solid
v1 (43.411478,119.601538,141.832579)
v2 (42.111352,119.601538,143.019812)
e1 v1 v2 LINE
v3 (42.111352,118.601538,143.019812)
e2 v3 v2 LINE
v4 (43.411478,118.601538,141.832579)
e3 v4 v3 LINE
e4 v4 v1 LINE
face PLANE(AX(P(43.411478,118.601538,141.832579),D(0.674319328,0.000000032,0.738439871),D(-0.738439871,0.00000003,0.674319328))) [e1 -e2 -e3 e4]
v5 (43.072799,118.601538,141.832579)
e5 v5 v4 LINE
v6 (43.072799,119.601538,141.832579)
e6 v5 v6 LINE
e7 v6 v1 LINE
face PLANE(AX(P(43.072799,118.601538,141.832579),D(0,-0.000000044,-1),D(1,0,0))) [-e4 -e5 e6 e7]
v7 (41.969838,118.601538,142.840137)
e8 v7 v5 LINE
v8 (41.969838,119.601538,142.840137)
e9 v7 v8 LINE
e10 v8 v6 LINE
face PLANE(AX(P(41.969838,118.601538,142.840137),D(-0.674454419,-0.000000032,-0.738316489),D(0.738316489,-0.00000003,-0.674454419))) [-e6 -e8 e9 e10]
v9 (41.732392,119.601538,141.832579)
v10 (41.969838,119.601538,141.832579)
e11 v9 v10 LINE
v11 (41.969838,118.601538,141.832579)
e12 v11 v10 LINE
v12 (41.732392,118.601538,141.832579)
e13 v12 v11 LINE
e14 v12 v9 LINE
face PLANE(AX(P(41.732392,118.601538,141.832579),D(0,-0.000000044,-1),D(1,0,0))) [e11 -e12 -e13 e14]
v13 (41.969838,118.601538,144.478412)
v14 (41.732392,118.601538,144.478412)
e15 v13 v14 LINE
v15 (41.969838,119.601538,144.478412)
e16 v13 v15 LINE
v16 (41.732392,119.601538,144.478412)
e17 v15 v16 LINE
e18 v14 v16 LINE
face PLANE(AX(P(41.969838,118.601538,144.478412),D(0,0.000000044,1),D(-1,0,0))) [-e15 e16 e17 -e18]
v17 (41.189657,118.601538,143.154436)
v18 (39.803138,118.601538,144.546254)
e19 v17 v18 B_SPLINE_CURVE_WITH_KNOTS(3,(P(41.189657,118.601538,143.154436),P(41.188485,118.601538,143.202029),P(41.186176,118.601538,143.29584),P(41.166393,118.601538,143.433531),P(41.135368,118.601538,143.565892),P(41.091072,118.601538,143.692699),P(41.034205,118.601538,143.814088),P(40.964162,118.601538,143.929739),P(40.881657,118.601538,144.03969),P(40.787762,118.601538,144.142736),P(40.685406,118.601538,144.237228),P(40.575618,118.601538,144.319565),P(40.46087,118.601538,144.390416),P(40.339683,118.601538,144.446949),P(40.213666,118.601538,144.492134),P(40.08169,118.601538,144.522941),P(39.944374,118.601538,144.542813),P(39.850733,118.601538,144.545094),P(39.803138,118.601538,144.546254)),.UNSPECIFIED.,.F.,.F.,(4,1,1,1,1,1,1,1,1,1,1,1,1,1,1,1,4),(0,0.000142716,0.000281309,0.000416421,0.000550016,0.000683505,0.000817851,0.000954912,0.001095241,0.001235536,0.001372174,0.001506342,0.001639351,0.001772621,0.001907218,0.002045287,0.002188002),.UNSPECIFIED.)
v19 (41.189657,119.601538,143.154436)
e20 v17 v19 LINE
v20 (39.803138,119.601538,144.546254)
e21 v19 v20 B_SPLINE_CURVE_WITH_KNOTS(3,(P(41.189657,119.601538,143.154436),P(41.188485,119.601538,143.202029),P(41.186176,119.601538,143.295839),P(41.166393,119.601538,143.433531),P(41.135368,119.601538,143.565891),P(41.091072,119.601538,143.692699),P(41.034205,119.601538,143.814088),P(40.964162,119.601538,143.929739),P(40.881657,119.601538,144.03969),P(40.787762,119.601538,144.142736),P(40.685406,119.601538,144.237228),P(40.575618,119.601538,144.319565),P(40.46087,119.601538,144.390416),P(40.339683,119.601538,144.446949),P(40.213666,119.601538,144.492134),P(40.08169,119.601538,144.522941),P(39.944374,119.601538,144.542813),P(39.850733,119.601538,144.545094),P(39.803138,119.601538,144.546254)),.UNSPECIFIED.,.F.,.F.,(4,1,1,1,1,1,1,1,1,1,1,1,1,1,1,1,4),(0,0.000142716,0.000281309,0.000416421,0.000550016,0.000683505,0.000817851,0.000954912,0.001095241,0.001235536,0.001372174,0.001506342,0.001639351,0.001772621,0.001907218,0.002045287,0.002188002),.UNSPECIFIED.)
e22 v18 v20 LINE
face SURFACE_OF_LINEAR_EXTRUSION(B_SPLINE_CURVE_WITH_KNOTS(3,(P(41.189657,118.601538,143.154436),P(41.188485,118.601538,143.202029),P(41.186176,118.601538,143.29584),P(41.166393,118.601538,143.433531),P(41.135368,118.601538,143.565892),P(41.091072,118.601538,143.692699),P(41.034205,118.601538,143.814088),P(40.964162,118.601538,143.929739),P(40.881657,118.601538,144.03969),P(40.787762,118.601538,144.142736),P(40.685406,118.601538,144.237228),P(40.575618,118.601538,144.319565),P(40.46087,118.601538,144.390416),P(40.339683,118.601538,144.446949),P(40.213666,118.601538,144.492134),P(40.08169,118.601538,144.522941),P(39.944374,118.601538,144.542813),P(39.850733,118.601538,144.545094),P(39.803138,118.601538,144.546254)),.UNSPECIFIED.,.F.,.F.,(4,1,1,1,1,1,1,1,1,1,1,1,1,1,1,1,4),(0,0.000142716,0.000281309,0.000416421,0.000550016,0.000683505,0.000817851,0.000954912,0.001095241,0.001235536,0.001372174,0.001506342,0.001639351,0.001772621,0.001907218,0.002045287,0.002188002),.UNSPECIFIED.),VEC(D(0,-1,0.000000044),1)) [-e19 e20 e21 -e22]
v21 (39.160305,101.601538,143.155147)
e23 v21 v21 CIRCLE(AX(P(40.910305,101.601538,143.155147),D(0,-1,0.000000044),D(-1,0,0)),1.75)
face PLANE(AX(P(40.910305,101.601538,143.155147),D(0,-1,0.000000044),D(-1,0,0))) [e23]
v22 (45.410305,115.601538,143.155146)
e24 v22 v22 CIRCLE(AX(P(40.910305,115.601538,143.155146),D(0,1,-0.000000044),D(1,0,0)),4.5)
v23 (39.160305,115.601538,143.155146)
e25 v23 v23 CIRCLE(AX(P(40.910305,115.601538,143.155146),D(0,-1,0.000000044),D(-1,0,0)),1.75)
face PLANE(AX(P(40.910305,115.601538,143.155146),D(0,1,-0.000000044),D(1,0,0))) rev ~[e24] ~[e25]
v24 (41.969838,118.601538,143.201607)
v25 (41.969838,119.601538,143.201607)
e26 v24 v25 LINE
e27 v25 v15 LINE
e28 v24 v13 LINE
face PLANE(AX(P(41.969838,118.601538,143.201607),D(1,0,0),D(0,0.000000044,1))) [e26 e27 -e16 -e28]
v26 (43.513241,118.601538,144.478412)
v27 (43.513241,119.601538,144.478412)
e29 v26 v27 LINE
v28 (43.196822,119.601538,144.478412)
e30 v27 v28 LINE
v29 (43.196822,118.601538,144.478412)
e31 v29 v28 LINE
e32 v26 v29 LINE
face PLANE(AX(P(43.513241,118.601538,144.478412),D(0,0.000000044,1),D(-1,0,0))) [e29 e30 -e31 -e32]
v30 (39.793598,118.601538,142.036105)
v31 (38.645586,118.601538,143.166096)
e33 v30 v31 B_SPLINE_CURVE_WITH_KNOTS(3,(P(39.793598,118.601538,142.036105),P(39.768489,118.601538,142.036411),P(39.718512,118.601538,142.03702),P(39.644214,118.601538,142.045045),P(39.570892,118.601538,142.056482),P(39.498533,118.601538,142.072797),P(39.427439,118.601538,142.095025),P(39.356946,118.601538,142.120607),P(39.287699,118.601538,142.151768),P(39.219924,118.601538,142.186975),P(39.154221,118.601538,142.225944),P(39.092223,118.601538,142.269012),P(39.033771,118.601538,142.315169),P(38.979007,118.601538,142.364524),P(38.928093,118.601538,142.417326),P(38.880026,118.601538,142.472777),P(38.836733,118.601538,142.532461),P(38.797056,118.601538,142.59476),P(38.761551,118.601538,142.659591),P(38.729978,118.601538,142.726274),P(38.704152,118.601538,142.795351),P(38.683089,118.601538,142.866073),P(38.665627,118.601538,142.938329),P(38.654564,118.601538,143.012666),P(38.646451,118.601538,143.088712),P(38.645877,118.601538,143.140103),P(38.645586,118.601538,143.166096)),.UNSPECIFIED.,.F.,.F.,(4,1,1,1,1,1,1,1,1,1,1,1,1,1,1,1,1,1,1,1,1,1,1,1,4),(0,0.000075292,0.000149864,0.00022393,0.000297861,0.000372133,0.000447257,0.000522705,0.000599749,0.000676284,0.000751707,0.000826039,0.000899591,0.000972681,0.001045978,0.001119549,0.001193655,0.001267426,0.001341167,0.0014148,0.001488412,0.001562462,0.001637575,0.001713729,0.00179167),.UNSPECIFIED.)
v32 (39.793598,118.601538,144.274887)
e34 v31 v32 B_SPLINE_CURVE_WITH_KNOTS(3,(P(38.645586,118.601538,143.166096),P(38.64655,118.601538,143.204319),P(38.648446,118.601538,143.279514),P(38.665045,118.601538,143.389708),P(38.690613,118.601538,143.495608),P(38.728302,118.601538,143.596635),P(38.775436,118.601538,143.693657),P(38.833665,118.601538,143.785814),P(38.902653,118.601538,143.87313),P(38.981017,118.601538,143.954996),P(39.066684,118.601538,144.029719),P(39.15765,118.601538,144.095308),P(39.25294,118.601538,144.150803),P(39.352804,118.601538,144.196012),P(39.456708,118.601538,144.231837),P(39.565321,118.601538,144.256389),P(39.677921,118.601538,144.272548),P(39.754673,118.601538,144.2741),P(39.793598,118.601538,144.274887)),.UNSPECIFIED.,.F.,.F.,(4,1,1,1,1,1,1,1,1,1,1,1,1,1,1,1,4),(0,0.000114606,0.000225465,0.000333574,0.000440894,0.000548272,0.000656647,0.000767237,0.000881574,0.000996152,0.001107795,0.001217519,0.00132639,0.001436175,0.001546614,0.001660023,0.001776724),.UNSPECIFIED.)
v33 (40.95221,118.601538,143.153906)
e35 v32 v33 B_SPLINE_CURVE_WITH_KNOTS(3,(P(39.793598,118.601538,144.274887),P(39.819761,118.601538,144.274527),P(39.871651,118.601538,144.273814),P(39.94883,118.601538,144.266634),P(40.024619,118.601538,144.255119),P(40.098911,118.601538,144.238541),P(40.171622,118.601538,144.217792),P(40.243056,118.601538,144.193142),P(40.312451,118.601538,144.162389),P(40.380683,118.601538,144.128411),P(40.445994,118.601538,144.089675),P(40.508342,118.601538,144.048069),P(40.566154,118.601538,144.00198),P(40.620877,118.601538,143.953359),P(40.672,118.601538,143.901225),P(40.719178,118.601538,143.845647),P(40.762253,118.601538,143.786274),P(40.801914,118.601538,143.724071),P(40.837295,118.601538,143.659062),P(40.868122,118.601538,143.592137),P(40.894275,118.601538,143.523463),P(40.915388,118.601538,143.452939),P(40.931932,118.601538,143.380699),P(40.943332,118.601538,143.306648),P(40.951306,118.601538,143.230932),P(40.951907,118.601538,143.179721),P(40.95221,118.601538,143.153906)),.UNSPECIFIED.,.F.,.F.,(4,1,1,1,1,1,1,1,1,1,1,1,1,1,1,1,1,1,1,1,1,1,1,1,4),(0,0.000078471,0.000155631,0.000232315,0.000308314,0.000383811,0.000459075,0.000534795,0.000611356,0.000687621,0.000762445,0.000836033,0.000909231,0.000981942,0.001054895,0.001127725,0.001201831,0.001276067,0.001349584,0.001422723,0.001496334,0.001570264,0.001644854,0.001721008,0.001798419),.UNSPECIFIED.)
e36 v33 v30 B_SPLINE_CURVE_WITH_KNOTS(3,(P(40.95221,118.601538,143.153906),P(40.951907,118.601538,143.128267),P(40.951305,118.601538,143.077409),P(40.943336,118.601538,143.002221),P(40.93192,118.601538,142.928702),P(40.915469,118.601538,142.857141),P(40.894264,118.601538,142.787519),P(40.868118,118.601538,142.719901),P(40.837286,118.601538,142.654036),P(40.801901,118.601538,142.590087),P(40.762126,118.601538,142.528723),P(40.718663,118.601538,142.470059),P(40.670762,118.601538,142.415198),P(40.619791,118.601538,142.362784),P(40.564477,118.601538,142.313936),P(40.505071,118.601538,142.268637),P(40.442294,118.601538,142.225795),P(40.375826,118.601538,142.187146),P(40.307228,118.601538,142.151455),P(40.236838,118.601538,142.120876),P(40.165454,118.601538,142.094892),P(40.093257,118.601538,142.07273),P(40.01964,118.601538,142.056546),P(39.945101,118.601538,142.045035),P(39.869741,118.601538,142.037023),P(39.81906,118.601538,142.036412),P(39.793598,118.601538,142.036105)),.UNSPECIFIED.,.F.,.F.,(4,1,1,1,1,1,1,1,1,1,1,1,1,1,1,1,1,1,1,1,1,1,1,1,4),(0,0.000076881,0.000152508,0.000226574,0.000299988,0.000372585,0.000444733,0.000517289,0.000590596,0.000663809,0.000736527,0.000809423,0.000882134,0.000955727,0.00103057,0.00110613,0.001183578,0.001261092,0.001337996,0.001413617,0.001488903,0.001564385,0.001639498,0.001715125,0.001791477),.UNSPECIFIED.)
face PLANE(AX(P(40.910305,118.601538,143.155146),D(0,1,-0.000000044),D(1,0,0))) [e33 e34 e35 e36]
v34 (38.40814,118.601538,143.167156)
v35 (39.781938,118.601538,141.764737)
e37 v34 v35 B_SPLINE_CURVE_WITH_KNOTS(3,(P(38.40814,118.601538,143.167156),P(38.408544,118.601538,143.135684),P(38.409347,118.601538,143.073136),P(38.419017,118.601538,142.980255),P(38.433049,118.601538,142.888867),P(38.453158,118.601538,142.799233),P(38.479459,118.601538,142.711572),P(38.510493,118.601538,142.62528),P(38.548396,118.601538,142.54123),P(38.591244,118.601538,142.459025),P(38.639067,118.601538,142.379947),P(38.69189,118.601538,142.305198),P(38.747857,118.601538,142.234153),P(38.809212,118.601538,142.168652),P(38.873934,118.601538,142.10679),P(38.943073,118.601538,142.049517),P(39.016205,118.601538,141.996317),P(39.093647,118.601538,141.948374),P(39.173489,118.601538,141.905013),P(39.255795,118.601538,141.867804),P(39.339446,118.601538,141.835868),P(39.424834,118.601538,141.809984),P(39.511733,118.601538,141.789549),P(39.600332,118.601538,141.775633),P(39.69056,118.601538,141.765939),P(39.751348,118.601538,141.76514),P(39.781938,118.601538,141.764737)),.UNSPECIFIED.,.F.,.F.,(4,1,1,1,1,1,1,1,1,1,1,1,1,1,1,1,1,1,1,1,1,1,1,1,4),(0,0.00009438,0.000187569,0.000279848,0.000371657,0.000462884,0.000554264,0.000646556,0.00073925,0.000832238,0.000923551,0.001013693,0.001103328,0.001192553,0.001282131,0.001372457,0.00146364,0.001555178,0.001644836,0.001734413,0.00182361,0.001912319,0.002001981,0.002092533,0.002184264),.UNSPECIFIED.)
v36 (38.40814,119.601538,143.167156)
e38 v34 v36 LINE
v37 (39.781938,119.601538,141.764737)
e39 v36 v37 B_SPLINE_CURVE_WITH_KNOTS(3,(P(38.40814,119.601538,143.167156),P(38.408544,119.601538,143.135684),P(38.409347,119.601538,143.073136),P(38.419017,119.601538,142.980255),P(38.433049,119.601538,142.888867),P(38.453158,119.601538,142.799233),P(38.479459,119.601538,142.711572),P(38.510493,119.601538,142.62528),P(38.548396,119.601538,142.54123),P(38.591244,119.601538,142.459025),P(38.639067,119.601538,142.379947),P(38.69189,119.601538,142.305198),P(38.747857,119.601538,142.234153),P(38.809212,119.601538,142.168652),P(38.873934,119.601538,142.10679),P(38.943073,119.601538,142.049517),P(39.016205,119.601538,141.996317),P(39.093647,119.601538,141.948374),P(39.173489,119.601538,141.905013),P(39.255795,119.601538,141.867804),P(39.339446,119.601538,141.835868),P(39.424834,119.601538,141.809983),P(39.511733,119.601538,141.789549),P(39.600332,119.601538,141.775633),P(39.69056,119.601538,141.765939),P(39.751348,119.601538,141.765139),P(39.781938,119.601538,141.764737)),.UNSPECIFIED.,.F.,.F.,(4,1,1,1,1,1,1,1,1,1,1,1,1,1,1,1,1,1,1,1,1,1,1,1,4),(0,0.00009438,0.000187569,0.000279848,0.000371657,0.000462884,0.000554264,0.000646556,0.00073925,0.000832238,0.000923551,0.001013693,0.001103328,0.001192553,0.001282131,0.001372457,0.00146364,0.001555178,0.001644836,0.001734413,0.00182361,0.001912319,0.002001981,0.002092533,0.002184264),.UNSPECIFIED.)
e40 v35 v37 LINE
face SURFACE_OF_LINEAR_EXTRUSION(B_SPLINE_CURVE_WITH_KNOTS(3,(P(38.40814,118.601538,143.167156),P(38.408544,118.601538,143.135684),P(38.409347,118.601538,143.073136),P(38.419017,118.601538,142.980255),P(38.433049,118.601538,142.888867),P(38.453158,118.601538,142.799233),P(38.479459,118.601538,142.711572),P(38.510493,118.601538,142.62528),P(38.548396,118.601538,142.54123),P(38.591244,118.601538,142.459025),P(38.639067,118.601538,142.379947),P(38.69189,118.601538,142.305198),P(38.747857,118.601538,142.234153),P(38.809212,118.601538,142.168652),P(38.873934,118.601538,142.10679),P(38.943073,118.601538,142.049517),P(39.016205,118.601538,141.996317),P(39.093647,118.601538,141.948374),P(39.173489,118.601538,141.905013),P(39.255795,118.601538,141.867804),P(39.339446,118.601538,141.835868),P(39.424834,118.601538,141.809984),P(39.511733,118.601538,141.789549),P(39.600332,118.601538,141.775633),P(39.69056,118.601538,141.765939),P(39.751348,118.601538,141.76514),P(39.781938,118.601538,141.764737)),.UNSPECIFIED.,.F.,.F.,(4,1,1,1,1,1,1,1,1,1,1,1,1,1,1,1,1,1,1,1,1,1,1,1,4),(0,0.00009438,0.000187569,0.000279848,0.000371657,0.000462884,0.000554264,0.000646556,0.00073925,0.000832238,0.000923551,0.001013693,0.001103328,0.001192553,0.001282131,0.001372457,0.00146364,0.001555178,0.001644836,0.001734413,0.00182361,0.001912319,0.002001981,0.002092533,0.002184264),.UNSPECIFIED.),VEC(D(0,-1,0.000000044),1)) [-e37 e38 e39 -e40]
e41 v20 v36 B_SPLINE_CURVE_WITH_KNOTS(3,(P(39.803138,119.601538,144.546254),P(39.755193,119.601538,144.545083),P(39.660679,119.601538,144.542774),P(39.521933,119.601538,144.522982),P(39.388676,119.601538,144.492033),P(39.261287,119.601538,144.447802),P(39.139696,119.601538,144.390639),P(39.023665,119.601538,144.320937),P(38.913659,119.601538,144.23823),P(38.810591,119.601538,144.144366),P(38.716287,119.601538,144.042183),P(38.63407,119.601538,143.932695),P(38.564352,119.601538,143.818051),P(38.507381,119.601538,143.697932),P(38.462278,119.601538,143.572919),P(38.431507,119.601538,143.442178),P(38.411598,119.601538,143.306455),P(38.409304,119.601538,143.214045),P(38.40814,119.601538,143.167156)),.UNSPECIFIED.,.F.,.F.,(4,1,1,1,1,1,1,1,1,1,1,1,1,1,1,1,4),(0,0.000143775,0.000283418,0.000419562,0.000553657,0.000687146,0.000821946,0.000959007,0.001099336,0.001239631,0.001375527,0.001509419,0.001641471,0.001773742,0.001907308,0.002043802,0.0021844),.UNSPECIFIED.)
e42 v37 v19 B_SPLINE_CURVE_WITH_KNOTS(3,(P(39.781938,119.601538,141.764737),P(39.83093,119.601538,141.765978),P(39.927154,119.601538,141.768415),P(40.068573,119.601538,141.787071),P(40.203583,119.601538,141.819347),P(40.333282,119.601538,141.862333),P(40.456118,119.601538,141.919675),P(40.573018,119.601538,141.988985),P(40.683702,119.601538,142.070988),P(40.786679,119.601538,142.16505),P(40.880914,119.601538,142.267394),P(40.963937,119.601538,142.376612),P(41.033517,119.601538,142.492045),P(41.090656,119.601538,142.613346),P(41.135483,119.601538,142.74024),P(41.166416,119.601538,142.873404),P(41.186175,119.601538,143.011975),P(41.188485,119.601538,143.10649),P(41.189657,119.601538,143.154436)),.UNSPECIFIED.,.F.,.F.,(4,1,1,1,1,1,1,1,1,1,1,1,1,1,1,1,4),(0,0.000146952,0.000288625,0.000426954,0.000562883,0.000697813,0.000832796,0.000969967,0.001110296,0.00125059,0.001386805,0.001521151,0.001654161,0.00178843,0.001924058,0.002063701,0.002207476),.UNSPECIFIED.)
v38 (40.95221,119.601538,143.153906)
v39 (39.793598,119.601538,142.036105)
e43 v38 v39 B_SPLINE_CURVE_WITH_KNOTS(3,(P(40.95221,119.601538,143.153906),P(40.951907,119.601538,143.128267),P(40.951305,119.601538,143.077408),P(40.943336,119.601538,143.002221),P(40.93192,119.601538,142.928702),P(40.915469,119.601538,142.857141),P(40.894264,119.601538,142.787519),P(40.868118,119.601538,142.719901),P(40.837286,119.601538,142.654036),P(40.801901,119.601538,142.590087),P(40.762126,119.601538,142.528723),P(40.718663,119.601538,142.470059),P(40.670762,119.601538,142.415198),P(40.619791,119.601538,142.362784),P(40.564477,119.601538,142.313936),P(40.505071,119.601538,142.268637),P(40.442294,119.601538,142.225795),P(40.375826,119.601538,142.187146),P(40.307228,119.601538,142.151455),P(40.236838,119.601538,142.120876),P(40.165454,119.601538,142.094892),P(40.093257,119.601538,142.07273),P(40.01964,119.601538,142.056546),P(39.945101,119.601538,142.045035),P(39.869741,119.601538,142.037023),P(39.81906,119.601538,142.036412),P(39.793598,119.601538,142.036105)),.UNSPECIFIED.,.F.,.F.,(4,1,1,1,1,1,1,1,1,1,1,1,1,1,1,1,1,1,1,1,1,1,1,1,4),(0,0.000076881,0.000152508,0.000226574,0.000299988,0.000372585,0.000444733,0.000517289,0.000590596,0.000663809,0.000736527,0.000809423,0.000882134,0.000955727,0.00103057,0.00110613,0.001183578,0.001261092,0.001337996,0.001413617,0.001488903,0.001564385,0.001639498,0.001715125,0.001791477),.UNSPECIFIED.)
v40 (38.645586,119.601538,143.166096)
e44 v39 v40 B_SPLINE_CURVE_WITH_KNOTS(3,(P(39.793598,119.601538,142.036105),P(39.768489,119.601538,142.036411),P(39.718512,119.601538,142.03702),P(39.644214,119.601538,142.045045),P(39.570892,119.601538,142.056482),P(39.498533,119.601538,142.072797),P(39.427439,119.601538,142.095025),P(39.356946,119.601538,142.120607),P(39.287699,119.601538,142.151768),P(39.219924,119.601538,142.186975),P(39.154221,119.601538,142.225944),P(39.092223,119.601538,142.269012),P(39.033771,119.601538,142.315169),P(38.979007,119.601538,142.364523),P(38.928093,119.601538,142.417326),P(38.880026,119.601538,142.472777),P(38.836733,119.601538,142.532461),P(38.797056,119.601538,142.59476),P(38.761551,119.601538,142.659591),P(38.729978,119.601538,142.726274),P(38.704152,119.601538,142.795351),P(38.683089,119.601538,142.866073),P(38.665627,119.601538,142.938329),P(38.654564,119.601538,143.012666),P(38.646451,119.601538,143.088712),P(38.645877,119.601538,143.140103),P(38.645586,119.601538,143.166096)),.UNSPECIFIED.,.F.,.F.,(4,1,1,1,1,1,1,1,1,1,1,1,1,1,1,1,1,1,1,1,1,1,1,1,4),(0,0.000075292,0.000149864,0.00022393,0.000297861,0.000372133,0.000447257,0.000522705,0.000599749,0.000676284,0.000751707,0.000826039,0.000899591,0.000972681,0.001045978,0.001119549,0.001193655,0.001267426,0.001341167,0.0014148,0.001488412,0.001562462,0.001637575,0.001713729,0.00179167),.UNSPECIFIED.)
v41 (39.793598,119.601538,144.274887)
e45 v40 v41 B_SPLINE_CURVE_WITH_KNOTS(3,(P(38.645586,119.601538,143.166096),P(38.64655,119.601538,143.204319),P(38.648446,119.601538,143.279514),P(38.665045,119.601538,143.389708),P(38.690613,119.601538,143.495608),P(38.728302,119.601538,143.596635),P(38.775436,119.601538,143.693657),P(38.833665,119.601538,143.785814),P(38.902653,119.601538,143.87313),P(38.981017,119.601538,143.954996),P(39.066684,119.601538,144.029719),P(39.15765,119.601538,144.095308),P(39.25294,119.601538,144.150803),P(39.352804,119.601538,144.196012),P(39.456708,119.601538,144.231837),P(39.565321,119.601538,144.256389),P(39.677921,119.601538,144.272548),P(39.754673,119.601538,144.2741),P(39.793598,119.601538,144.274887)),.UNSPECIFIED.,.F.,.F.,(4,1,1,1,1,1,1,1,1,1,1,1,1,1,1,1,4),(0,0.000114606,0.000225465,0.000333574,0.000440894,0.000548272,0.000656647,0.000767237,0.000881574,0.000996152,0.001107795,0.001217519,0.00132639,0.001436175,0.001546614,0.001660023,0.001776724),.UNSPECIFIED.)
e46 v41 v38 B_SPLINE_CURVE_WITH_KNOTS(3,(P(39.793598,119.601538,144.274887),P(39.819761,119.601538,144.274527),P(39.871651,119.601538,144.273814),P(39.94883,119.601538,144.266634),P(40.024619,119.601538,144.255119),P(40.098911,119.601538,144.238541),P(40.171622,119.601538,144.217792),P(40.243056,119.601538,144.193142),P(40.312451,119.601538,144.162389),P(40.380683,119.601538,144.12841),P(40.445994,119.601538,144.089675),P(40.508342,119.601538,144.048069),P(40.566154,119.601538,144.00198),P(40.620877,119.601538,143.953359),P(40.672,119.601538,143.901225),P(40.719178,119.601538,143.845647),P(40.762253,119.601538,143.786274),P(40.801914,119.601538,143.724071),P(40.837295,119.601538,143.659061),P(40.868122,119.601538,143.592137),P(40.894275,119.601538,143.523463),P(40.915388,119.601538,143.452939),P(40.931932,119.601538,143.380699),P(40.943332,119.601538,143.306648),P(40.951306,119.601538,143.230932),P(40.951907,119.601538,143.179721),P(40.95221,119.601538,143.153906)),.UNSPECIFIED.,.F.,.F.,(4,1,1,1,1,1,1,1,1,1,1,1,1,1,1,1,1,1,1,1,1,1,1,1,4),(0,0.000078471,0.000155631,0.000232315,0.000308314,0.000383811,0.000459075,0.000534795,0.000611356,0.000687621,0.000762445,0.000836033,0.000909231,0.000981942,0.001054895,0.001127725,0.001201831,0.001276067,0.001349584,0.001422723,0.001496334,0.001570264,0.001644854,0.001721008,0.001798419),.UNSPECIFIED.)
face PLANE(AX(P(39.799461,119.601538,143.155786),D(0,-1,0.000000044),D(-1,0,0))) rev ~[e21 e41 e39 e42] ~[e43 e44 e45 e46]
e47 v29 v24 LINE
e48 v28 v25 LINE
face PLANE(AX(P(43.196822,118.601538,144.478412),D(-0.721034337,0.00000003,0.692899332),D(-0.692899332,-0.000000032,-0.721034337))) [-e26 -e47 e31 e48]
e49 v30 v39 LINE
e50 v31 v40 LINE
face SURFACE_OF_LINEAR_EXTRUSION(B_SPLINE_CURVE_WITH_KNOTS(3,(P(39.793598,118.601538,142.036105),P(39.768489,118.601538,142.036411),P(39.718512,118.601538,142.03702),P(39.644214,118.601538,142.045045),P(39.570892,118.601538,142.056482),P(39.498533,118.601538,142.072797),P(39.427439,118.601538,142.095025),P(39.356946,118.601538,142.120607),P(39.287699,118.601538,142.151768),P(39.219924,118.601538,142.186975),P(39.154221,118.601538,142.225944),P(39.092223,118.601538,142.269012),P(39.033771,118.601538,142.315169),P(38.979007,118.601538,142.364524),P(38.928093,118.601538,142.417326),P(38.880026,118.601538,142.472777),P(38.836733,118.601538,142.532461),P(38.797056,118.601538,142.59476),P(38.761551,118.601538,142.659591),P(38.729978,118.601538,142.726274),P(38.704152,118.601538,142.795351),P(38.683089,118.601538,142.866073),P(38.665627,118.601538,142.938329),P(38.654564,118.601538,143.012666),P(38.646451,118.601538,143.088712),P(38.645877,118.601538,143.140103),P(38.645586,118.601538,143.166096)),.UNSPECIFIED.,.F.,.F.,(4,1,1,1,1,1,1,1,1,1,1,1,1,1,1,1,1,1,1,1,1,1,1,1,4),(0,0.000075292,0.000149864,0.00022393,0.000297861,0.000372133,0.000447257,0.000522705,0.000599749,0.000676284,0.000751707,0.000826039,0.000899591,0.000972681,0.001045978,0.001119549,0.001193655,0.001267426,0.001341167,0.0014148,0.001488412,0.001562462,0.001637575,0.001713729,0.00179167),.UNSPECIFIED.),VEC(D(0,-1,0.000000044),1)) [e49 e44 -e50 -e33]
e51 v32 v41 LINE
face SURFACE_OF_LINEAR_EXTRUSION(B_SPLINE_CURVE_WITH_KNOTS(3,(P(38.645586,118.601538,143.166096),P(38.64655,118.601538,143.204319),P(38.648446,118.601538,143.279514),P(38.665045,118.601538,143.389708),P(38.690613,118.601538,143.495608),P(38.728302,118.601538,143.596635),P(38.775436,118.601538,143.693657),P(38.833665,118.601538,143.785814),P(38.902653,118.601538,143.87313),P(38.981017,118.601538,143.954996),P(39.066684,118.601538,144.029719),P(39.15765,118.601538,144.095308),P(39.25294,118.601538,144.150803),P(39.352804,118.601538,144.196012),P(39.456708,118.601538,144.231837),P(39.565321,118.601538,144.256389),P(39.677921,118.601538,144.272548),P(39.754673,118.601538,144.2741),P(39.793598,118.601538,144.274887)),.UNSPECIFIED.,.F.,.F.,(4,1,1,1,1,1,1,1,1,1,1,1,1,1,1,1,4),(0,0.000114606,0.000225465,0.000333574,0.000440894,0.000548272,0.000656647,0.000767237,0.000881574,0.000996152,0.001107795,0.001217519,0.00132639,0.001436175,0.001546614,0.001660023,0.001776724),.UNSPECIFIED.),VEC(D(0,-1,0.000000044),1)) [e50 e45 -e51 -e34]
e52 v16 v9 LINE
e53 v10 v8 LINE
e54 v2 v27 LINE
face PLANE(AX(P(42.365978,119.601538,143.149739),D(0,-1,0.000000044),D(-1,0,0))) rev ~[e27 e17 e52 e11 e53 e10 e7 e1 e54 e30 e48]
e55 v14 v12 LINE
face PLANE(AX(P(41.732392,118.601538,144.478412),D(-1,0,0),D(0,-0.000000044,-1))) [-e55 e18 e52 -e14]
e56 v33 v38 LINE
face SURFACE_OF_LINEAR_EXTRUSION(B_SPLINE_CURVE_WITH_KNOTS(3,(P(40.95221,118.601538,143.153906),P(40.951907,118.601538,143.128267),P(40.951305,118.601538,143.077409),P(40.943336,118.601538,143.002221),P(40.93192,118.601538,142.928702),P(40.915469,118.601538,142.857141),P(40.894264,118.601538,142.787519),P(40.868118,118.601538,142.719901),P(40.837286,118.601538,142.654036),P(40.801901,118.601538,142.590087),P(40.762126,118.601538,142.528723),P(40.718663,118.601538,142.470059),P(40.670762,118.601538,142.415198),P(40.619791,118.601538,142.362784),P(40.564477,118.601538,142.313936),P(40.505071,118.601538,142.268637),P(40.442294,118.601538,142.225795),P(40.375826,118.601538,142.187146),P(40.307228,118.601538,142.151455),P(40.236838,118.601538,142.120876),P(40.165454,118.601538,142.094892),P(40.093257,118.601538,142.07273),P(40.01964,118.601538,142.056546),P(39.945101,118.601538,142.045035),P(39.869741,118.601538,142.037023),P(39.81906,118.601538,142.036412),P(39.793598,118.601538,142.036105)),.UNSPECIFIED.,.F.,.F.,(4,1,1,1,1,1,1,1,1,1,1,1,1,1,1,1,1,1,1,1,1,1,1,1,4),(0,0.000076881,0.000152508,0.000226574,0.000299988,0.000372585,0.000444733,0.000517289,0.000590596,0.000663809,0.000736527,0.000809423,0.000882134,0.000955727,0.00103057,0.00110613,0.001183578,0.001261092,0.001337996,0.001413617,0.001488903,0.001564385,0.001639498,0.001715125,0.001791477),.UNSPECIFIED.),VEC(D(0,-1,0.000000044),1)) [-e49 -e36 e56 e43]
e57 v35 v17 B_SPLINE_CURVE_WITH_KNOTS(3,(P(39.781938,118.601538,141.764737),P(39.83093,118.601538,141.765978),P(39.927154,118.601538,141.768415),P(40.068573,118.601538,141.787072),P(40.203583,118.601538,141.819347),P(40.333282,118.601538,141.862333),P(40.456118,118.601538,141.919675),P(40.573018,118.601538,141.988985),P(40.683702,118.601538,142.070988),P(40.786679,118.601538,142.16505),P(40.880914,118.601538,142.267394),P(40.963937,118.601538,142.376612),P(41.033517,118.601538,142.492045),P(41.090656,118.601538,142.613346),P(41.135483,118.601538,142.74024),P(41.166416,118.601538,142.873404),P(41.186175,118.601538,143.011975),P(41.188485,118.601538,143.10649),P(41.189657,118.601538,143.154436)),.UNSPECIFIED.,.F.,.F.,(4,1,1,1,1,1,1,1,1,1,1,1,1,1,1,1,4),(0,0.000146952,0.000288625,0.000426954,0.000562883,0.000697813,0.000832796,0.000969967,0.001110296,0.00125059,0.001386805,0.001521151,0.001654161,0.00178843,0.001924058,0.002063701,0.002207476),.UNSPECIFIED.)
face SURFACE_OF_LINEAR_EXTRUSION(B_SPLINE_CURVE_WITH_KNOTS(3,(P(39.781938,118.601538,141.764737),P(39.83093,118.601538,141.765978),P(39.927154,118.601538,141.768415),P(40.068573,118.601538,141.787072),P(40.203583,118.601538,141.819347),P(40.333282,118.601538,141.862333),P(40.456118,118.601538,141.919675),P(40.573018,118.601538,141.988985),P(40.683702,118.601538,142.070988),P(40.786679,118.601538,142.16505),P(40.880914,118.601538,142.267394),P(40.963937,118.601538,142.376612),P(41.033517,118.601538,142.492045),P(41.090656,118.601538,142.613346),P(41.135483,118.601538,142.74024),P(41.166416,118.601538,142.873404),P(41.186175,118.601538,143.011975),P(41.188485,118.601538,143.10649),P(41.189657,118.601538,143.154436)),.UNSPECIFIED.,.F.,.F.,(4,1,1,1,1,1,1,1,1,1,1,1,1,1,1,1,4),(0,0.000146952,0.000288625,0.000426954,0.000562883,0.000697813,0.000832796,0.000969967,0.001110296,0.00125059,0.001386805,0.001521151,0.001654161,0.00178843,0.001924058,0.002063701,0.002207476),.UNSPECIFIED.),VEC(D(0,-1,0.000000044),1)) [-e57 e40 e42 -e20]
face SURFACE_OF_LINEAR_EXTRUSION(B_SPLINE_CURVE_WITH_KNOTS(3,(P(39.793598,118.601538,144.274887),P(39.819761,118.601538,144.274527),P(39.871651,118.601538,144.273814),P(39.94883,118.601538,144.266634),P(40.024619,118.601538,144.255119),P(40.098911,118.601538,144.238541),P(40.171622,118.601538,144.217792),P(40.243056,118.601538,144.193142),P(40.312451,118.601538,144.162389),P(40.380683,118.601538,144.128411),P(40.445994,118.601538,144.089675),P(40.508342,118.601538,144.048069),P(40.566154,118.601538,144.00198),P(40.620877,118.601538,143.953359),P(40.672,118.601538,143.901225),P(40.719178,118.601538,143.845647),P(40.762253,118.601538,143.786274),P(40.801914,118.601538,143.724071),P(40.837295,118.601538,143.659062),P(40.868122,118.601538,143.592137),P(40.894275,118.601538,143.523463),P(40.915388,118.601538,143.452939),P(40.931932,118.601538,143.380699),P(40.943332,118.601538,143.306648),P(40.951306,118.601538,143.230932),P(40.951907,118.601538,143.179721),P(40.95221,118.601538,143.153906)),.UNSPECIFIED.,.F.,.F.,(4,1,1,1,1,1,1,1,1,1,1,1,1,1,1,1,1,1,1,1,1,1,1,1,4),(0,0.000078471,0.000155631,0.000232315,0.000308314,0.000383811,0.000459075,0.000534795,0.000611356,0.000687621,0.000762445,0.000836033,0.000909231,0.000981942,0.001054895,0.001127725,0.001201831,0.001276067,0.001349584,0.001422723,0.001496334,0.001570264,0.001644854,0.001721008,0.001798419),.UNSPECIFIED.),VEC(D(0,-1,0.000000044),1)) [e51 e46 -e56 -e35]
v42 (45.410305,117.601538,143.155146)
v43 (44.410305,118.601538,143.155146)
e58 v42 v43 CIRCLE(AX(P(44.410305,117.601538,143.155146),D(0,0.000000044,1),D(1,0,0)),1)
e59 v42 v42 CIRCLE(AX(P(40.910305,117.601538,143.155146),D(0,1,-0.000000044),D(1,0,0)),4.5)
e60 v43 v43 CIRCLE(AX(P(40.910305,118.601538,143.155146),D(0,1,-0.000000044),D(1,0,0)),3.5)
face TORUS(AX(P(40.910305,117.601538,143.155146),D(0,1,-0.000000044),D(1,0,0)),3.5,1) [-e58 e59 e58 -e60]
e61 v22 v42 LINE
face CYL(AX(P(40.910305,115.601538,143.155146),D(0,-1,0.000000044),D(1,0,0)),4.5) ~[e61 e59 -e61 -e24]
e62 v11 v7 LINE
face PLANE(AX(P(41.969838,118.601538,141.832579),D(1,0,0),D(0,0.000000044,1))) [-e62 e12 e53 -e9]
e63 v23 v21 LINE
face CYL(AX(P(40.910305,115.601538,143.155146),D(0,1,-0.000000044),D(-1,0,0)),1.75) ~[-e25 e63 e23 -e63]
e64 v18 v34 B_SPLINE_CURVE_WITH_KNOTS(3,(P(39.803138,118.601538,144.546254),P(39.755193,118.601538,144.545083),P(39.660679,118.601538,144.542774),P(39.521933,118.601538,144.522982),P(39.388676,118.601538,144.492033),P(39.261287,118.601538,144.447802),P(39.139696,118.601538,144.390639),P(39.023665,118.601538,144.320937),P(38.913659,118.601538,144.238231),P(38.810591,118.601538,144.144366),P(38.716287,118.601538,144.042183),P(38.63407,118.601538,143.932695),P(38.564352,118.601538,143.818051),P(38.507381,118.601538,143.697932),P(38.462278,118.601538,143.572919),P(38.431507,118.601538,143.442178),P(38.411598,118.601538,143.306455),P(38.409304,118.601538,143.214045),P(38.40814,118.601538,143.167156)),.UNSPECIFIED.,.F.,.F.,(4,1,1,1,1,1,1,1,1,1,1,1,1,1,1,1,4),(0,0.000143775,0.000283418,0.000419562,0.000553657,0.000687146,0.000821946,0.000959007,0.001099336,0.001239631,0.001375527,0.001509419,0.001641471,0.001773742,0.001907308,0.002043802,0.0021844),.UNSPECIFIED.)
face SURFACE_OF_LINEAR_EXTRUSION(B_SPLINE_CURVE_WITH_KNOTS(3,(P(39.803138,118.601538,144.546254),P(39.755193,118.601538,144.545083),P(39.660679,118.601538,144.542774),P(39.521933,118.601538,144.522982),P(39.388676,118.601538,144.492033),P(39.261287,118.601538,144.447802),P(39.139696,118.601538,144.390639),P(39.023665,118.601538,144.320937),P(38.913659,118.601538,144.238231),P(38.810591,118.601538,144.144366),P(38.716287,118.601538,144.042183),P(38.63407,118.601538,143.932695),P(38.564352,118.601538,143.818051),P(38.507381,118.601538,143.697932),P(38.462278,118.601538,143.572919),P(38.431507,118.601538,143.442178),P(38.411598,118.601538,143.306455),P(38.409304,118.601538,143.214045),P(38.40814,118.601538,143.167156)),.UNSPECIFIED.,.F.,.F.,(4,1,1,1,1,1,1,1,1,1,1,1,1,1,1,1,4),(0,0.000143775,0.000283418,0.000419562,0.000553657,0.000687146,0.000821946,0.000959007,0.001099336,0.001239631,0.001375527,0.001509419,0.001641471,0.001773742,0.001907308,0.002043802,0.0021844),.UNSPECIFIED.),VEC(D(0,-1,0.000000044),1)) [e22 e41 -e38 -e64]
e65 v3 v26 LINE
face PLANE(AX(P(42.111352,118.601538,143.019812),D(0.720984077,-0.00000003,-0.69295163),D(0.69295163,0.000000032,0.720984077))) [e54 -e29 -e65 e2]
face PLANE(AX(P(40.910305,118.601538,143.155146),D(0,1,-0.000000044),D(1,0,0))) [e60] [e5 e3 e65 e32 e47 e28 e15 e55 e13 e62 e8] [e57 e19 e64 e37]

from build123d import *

# Parameters (mm, degrees)
SKETCH1_R           = 4.5
BOSS_EXTRUDE1_DEPTH = 3
FILLET1_R           = 1
SKETCH6_R           = 1.75
BOSS_EXTRUDE3_DEPTH = 14
BOSS_EXTRUDE4_DEPTH = 1


with BuildPart() as part:
    # Sketch1 → Boss-Extrude1 (new body)
    with BuildSketch(Plane(origin=(0, 115.601531763, -5.053e-06), x_dir=(1, 0, 0), z_dir=(0, 1, -4.4e-08))):
        with Locations((40.91030477, -143.155151275)):
            Circle(SKETCH1_R)
    extrude(amount=BOSS_EXTRUDE1_DEPTH)

    # Fillet1
    fillet1_edges = [part.edges().sort_by_distance(p)[0] for p in [
        (36.41030477, 118.601538021, 143.155146091),
    ]]
    fillet(fillet1_edges, radius=FILLET1_R)

    # Sketch6 → Boss-Extrude3 (add)
    with BuildSketch(Plane(origin=(0, 115.601531763, -5.053e-06), x_dir=(-1, 0, 0), z_dir=(0, -1, 4.4e-08))):
        with Locations((-40.91030477, -143.155151275)):
            Circle(SKETCH6_R)
    extrude(amount=BOSS_EXTRUDE3_DEPTH)

    # Sketch7 → Boss-Extrude4 (add)
    with BuildSketch(Plane(origin=(0, 118.601531763, -5.184e-06), x_dir=(1, 0, 0), z_dir=(0, 1, -4.4e-08))):
        with BuildLine():
            add(Edge.make_bspline(
                [(39.781937709, -141.764742389), (39.830929551, -141.76598327), (39.927153571, -141.768420461), (40.068573285, -141.787076688), (40.203582672, -141.81935237), (40.333281527, -141.862338077), (40.45611848, -141.91968038), (40.573018119, -141.988989986), (40.683702303, -142.070993023), (40.786679181, -142.165055594), (40.880913899, -142.267399038), (40.96393704, -142.376617458), (41.033516631, -142.492050481), (41.090655886, -142.613351228), (41.135482812, -142.740245371), (41.16641566, -142.873409408), (41.186174857, -143.011980537), (41.188484879, -143.106494893), (41.189656726, -143.154440907)],
                knots=[0, 0, 0, 0, 0.000146952, 0.000288625, 0.000426954, 0.000562883, 0.000697813, 0.000832796, 0.000969967, 0.001110296, 0.00125059, 0.001386805, 0.001521151, 0.001654161, 0.00178843, 0.001924058, 0.002063701, 0.002207476, 0.002207476, 0.002207476, 0.002207476], degree=3))
            add(Edge.make_bspline(
                [(41.189656726, -143.154440907), (41.188485051, -143.202033739), (41.186175543, -143.295844723), (41.166393194, -143.433536493), (41.135368152, -143.565896722), (41.091072165, -143.692704448), (41.034205286, -143.814093439), (40.964162388, -143.929744292), (40.88165683, -144.039694918), (40.787762365, -144.142740802), (40.685405625, -144.237232938), (40.575618459, -144.319570421), (40.460869938, -144.390421396), (40.339683432, -144.446954293), (40.213666142, -144.492139018), (40.08169022, -144.522946066), (39.944374075, -144.542817819), (39.850733494, -144.545099673), (39.803138297, -144.546259483)],
                knots=[0, 0, 0, 0, 0.000142716, 0.000281309, 0.000416421, 0.000550016, 0.000683505, 0.000817851, 0.000954912, 0.001095241, 0.001235536, 0.001372174, 0.001506342, 0.001639351, 0.001772621, 0.001907218, 0.002045287, 0.002188002, 0.002188002, 0.002188002, 0.002188002], degree=3))
            add(Edge.make_bspline(
                [(39.803138297, -144.546259483), (39.755192532, -144.545088221), (39.660678666, -144.54277935), (39.521933407, -144.522987455), (39.388675827, -144.492037779), (39.261287002, -144.447807431), (39.139695894, -144.390644406), (39.023664701, -144.320942286), (38.913659155, -144.238235697), (38.810591287, -144.144371679), (38.716286834, -144.042188423), (38.634069925, -143.932700623), (38.564352131, -143.818056319), (38.50738104, -143.697937357), (38.46227755, -143.572924422), (38.431506646, -143.442183608), (38.41159792, -143.306460291), (38.409303721, -143.214050481), (38.408139632, -143.16716126)],
                knots=[0, 0, 0, 0, 0.000143775, 0.000283418, 0.000419562, 0.000553657, 0.000687146, 0.000821946, 0.000959007, 0.001099336, 0.001239631, 0.001375527, 0.001509419, 0.001641471, 0.001773742, 0.001907308, 0.002043802, 0.0021844, 0.0021844, 0.0021844, 0.0021844], degree=3))
            add(Edge.make_bspline(
                [(38.408139632, -143.16716126), (38.408543791, -143.135688944), (38.40934701, -143.073141351), (38.419016921, -142.980260052), (38.433048683, -142.888872471), (38.453158462, -142.799238481), (38.479459306, -142.711577499), (38.510492683, -142.625284958), (38.548396019, -142.541235357), (38.59124389, -142.459030531), (38.639066804, -142.379951936), (38.691889543, -142.305203679), (38.747856756, -142.234158521), (38.809212417, -142.168657512), (38.873934373, -142.106795165), (38.943072551, -142.049522158), (39.016205081, -141.996322047), (39.093646642, -141.948379289), (39.173489029, -141.905018514), (39.255794688, -141.867809139), (39.339445787, -141.835873128), (39.424834122, -141.809988695), (39.511732943, -141.789553763), (39.600331912, -141.77563868), (39.690560442, -141.765944106), (39.75134757, -141.765144685), (39.781937709, -141.764742389)],
                knots=[0, 0, 0, 0, 9.438e-05, 0.000187569, 0.000279848, 0.000371657, 0.000462884, 0.000554264, 0.000646556, 0.00073925, 0.000832238, 0.000923551, 0.001013693, 0.001103328, 0.001192553, 0.001282131, 0.001372457, 0.00146364, 0.001555178, 0.001644836, 0.001734413, 0.00182361, 0.001912319, 0.002001981, 0.002092533, 0.002184264, 0.002184264, 0.002184264, 0.002184264], degree=3))
        make_face()
        with BuildLine():
            add(Edge.make_bspline(
                [(39.793598032, -142.036109911), (39.768489351, -142.036415989), (39.718512029, -142.037025218), (39.6442136, -142.045050193), (39.570892316, -142.056487669), (39.498533037, -142.072802271), (39.42743852, -142.095030335), (39.356946081, -142.12061245), (39.287698534, -142.151773631), (39.219924487, -142.186980378), (39.154220829, -142.225948908), (39.092223132, -142.269016851), (39.033770895, -142.31517421), (38.979007235, -142.364528706), (38.928092956, -142.417331679), (38.88002595, -142.472782628), (38.836732873, -142.532466498), (38.797056276, -142.594764841), (38.761550826, -142.659596512), (38.729978206, -142.726278968), (38.704151843, -142.795356148), (38.683089213, -142.866078636), (38.665626856, -142.938334424), (38.654564306, -143.012671643), (38.646451153, -143.088716757), (38.645876746, -143.140107802), (38.645586213, -143.16610123)],
                knots=[0, 0, 0, 0, 7.5292e-05, 0.000149864, 0.00022393, 0.000297861, 0.000372133, 0.000447257, 0.000522705, 0.000599749, 0.000676284, 0.000751707, 0.000826039, 0.000899591, 0.000972681, 0.001045978, 0.001119549, 0.001193655, 0.001267426, 0.001341167, 0.0014148, 0.001488412, 0.001562462, 0.001637575, 0.001713729, 0.00179167, 0.00179167, 0.00179167, 0.00179167], degree=3))
            add(Edge.make_bspline(
                [(38.645586213, -143.16610123), (38.646549948, -143.204323861), (38.648445913, -143.279519602), (38.66504479, -143.389713377), (38.690612592, -143.495613451), (38.728302387, -143.59664037), (38.775436483, -143.693662536), (38.833665144, -143.785819258), (38.902652667, -143.873135443), (38.981017357, -143.95500151), (39.066683927, -144.029724231), (39.15764974, -144.095313236), (39.252940265, -144.150807889), (39.352803996, -144.196017676), (39.45670779, -144.231842061), (39.565321177, -144.25639436), (39.677920631, -144.272553186), (39.754672972, -144.274104972), (39.793598032, -144.274891962)],
                knots=[0, 0, 0, 0, 0.000114606, 0.000225465, 0.000333574, 0.000440894, 0.000548272, 0.000656647, 0.000767237, 0.000881574, 0.000996152, 0.001107795, 0.001217519, 0.00132639, 0.001436175, 0.001546614, 0.001660023, 0.001776724, 0.001776724, 0.001776724, 0.001776724], degree=3))
            add(Edge.make_bspline(
                [(39.793598032, -144.274891962), (39.819761167, -144.274532503), (39.871650522, -144.273819589), (39.948829875, -144.266639042), (40.024618797, -144.255124474), (40.098910985, -144.238545942), (40.171622122, -144.217797161), (40.243055694, -144.193147272), (40.31245083, -144.162394219), (40.380682969, -144.128415708), (40.445994414, -144.089680589), (40.508341989, -144.048074369), (40.566154188, -144.001984995), (40.620876879, -143.953363791), (40.672000191, -143.901230406), (40.719178411, -143.845652619), (40.762252678, -143.786279622), (40.801914208, -143.724075774), (40.837295246, -143.659066702), (40.868122303, -143.592142481), (40.89427532, -143.523467905), (40.915387939, -143.452943919), (40.931932306, -143.380704468), (40.943332007, -143.306652825), (40.951306125, -143.230937132), (40.951907165, -143.179726003), (40.952210145, -143.153910892)],
                knots=[0, 0, 0, 0, 7.8471e-05, 0.000155631, 0.000232315, 0.000308314, 0.000383811, 0.000459075, 0.000534795, 0.000611356, 0.000687621, 0.000762445, 0.000836033, 0.000909231, 0.000981942, 0.001054895, 0.001127725, 0.001201831, 0.001276067, 0.001349584, 0.001422723, 0.001496334, 0.001570264, 0.001644854, 0.001721008, 0.001798419, 0.001798419, 0.001798419, 0.001798419], degree=3))
            add(Edge.make_bspline(
                [(40.952210145, -143.153910892), (40.951906923, -143.128272386), (40.951305425, -143.077413686), (40.943335816, -143.002226044), (40.931920262, -142.928707247), (40.915468691, -142.85714592), (40.894264111, -142.787523821), (40.868117736, -142.719906339), (40.837285992, -142.654041572), (40.801901203, -142.590092312), (40.762126146, -142.528728075), (40.718663236, -142.470064347), (40.67076205, -142.41520281), (40.619791186, -142.362789083), (40.564477481, -142.313941036), (40.505071497, -142.268642464), (40.442294431, -142.225800167), (40.375825628, -142.187151677), (40.30722752, -142.151459965), (40.236837802, -142.120880933), (40.165453899, -142.094897248), (40.093257338, -142.072735018), (40.019640444, -142.056551567), (39.945100645, -142.045039886), (39.869741068, -142.037028011), (39.819059587, -142.036416915), (39.793598032, -142.036109911)],
                knots=[0, 0, 0, 0, 7.6881e-05, 0.000152508, 0.000226574, 0.000299988, 0.000372585, 0.000444733, 0.000517289, 0.000590596, 0.000663809, 0.000736527, 0.000809423, 0.000882134, 0.000955727, 0.00103057, 0.00110613, 0.001183578, 0.001261092, 0.001337996, 0.001413617, 0.001488903, 0.001564385, 0.001639498, 0.001715125, 0.001791477, 0.001791477, 0.001791477, 0.001791477], degree=3))
        make_face(mode=Mode.SUBTRACT)
        Polygon((41.732391769, -141.83258427), (41.96983835, -141.83258427), (41.96983835, -142.840142196), (43.07279892, -141.83258427), (43.411478307, -141.83258427), (42.111352272, -143.019817176), (43.513241128, -144.478417603), (43.196822358, -144.478417603), (41.96983835, -143.201612214), (41.96983835, -144.478417603), (41.732391769, -144.478417603), align=None)
    extrude(amount=BOSS_EXTRUDE4_DEPTH)


solid = part.part
